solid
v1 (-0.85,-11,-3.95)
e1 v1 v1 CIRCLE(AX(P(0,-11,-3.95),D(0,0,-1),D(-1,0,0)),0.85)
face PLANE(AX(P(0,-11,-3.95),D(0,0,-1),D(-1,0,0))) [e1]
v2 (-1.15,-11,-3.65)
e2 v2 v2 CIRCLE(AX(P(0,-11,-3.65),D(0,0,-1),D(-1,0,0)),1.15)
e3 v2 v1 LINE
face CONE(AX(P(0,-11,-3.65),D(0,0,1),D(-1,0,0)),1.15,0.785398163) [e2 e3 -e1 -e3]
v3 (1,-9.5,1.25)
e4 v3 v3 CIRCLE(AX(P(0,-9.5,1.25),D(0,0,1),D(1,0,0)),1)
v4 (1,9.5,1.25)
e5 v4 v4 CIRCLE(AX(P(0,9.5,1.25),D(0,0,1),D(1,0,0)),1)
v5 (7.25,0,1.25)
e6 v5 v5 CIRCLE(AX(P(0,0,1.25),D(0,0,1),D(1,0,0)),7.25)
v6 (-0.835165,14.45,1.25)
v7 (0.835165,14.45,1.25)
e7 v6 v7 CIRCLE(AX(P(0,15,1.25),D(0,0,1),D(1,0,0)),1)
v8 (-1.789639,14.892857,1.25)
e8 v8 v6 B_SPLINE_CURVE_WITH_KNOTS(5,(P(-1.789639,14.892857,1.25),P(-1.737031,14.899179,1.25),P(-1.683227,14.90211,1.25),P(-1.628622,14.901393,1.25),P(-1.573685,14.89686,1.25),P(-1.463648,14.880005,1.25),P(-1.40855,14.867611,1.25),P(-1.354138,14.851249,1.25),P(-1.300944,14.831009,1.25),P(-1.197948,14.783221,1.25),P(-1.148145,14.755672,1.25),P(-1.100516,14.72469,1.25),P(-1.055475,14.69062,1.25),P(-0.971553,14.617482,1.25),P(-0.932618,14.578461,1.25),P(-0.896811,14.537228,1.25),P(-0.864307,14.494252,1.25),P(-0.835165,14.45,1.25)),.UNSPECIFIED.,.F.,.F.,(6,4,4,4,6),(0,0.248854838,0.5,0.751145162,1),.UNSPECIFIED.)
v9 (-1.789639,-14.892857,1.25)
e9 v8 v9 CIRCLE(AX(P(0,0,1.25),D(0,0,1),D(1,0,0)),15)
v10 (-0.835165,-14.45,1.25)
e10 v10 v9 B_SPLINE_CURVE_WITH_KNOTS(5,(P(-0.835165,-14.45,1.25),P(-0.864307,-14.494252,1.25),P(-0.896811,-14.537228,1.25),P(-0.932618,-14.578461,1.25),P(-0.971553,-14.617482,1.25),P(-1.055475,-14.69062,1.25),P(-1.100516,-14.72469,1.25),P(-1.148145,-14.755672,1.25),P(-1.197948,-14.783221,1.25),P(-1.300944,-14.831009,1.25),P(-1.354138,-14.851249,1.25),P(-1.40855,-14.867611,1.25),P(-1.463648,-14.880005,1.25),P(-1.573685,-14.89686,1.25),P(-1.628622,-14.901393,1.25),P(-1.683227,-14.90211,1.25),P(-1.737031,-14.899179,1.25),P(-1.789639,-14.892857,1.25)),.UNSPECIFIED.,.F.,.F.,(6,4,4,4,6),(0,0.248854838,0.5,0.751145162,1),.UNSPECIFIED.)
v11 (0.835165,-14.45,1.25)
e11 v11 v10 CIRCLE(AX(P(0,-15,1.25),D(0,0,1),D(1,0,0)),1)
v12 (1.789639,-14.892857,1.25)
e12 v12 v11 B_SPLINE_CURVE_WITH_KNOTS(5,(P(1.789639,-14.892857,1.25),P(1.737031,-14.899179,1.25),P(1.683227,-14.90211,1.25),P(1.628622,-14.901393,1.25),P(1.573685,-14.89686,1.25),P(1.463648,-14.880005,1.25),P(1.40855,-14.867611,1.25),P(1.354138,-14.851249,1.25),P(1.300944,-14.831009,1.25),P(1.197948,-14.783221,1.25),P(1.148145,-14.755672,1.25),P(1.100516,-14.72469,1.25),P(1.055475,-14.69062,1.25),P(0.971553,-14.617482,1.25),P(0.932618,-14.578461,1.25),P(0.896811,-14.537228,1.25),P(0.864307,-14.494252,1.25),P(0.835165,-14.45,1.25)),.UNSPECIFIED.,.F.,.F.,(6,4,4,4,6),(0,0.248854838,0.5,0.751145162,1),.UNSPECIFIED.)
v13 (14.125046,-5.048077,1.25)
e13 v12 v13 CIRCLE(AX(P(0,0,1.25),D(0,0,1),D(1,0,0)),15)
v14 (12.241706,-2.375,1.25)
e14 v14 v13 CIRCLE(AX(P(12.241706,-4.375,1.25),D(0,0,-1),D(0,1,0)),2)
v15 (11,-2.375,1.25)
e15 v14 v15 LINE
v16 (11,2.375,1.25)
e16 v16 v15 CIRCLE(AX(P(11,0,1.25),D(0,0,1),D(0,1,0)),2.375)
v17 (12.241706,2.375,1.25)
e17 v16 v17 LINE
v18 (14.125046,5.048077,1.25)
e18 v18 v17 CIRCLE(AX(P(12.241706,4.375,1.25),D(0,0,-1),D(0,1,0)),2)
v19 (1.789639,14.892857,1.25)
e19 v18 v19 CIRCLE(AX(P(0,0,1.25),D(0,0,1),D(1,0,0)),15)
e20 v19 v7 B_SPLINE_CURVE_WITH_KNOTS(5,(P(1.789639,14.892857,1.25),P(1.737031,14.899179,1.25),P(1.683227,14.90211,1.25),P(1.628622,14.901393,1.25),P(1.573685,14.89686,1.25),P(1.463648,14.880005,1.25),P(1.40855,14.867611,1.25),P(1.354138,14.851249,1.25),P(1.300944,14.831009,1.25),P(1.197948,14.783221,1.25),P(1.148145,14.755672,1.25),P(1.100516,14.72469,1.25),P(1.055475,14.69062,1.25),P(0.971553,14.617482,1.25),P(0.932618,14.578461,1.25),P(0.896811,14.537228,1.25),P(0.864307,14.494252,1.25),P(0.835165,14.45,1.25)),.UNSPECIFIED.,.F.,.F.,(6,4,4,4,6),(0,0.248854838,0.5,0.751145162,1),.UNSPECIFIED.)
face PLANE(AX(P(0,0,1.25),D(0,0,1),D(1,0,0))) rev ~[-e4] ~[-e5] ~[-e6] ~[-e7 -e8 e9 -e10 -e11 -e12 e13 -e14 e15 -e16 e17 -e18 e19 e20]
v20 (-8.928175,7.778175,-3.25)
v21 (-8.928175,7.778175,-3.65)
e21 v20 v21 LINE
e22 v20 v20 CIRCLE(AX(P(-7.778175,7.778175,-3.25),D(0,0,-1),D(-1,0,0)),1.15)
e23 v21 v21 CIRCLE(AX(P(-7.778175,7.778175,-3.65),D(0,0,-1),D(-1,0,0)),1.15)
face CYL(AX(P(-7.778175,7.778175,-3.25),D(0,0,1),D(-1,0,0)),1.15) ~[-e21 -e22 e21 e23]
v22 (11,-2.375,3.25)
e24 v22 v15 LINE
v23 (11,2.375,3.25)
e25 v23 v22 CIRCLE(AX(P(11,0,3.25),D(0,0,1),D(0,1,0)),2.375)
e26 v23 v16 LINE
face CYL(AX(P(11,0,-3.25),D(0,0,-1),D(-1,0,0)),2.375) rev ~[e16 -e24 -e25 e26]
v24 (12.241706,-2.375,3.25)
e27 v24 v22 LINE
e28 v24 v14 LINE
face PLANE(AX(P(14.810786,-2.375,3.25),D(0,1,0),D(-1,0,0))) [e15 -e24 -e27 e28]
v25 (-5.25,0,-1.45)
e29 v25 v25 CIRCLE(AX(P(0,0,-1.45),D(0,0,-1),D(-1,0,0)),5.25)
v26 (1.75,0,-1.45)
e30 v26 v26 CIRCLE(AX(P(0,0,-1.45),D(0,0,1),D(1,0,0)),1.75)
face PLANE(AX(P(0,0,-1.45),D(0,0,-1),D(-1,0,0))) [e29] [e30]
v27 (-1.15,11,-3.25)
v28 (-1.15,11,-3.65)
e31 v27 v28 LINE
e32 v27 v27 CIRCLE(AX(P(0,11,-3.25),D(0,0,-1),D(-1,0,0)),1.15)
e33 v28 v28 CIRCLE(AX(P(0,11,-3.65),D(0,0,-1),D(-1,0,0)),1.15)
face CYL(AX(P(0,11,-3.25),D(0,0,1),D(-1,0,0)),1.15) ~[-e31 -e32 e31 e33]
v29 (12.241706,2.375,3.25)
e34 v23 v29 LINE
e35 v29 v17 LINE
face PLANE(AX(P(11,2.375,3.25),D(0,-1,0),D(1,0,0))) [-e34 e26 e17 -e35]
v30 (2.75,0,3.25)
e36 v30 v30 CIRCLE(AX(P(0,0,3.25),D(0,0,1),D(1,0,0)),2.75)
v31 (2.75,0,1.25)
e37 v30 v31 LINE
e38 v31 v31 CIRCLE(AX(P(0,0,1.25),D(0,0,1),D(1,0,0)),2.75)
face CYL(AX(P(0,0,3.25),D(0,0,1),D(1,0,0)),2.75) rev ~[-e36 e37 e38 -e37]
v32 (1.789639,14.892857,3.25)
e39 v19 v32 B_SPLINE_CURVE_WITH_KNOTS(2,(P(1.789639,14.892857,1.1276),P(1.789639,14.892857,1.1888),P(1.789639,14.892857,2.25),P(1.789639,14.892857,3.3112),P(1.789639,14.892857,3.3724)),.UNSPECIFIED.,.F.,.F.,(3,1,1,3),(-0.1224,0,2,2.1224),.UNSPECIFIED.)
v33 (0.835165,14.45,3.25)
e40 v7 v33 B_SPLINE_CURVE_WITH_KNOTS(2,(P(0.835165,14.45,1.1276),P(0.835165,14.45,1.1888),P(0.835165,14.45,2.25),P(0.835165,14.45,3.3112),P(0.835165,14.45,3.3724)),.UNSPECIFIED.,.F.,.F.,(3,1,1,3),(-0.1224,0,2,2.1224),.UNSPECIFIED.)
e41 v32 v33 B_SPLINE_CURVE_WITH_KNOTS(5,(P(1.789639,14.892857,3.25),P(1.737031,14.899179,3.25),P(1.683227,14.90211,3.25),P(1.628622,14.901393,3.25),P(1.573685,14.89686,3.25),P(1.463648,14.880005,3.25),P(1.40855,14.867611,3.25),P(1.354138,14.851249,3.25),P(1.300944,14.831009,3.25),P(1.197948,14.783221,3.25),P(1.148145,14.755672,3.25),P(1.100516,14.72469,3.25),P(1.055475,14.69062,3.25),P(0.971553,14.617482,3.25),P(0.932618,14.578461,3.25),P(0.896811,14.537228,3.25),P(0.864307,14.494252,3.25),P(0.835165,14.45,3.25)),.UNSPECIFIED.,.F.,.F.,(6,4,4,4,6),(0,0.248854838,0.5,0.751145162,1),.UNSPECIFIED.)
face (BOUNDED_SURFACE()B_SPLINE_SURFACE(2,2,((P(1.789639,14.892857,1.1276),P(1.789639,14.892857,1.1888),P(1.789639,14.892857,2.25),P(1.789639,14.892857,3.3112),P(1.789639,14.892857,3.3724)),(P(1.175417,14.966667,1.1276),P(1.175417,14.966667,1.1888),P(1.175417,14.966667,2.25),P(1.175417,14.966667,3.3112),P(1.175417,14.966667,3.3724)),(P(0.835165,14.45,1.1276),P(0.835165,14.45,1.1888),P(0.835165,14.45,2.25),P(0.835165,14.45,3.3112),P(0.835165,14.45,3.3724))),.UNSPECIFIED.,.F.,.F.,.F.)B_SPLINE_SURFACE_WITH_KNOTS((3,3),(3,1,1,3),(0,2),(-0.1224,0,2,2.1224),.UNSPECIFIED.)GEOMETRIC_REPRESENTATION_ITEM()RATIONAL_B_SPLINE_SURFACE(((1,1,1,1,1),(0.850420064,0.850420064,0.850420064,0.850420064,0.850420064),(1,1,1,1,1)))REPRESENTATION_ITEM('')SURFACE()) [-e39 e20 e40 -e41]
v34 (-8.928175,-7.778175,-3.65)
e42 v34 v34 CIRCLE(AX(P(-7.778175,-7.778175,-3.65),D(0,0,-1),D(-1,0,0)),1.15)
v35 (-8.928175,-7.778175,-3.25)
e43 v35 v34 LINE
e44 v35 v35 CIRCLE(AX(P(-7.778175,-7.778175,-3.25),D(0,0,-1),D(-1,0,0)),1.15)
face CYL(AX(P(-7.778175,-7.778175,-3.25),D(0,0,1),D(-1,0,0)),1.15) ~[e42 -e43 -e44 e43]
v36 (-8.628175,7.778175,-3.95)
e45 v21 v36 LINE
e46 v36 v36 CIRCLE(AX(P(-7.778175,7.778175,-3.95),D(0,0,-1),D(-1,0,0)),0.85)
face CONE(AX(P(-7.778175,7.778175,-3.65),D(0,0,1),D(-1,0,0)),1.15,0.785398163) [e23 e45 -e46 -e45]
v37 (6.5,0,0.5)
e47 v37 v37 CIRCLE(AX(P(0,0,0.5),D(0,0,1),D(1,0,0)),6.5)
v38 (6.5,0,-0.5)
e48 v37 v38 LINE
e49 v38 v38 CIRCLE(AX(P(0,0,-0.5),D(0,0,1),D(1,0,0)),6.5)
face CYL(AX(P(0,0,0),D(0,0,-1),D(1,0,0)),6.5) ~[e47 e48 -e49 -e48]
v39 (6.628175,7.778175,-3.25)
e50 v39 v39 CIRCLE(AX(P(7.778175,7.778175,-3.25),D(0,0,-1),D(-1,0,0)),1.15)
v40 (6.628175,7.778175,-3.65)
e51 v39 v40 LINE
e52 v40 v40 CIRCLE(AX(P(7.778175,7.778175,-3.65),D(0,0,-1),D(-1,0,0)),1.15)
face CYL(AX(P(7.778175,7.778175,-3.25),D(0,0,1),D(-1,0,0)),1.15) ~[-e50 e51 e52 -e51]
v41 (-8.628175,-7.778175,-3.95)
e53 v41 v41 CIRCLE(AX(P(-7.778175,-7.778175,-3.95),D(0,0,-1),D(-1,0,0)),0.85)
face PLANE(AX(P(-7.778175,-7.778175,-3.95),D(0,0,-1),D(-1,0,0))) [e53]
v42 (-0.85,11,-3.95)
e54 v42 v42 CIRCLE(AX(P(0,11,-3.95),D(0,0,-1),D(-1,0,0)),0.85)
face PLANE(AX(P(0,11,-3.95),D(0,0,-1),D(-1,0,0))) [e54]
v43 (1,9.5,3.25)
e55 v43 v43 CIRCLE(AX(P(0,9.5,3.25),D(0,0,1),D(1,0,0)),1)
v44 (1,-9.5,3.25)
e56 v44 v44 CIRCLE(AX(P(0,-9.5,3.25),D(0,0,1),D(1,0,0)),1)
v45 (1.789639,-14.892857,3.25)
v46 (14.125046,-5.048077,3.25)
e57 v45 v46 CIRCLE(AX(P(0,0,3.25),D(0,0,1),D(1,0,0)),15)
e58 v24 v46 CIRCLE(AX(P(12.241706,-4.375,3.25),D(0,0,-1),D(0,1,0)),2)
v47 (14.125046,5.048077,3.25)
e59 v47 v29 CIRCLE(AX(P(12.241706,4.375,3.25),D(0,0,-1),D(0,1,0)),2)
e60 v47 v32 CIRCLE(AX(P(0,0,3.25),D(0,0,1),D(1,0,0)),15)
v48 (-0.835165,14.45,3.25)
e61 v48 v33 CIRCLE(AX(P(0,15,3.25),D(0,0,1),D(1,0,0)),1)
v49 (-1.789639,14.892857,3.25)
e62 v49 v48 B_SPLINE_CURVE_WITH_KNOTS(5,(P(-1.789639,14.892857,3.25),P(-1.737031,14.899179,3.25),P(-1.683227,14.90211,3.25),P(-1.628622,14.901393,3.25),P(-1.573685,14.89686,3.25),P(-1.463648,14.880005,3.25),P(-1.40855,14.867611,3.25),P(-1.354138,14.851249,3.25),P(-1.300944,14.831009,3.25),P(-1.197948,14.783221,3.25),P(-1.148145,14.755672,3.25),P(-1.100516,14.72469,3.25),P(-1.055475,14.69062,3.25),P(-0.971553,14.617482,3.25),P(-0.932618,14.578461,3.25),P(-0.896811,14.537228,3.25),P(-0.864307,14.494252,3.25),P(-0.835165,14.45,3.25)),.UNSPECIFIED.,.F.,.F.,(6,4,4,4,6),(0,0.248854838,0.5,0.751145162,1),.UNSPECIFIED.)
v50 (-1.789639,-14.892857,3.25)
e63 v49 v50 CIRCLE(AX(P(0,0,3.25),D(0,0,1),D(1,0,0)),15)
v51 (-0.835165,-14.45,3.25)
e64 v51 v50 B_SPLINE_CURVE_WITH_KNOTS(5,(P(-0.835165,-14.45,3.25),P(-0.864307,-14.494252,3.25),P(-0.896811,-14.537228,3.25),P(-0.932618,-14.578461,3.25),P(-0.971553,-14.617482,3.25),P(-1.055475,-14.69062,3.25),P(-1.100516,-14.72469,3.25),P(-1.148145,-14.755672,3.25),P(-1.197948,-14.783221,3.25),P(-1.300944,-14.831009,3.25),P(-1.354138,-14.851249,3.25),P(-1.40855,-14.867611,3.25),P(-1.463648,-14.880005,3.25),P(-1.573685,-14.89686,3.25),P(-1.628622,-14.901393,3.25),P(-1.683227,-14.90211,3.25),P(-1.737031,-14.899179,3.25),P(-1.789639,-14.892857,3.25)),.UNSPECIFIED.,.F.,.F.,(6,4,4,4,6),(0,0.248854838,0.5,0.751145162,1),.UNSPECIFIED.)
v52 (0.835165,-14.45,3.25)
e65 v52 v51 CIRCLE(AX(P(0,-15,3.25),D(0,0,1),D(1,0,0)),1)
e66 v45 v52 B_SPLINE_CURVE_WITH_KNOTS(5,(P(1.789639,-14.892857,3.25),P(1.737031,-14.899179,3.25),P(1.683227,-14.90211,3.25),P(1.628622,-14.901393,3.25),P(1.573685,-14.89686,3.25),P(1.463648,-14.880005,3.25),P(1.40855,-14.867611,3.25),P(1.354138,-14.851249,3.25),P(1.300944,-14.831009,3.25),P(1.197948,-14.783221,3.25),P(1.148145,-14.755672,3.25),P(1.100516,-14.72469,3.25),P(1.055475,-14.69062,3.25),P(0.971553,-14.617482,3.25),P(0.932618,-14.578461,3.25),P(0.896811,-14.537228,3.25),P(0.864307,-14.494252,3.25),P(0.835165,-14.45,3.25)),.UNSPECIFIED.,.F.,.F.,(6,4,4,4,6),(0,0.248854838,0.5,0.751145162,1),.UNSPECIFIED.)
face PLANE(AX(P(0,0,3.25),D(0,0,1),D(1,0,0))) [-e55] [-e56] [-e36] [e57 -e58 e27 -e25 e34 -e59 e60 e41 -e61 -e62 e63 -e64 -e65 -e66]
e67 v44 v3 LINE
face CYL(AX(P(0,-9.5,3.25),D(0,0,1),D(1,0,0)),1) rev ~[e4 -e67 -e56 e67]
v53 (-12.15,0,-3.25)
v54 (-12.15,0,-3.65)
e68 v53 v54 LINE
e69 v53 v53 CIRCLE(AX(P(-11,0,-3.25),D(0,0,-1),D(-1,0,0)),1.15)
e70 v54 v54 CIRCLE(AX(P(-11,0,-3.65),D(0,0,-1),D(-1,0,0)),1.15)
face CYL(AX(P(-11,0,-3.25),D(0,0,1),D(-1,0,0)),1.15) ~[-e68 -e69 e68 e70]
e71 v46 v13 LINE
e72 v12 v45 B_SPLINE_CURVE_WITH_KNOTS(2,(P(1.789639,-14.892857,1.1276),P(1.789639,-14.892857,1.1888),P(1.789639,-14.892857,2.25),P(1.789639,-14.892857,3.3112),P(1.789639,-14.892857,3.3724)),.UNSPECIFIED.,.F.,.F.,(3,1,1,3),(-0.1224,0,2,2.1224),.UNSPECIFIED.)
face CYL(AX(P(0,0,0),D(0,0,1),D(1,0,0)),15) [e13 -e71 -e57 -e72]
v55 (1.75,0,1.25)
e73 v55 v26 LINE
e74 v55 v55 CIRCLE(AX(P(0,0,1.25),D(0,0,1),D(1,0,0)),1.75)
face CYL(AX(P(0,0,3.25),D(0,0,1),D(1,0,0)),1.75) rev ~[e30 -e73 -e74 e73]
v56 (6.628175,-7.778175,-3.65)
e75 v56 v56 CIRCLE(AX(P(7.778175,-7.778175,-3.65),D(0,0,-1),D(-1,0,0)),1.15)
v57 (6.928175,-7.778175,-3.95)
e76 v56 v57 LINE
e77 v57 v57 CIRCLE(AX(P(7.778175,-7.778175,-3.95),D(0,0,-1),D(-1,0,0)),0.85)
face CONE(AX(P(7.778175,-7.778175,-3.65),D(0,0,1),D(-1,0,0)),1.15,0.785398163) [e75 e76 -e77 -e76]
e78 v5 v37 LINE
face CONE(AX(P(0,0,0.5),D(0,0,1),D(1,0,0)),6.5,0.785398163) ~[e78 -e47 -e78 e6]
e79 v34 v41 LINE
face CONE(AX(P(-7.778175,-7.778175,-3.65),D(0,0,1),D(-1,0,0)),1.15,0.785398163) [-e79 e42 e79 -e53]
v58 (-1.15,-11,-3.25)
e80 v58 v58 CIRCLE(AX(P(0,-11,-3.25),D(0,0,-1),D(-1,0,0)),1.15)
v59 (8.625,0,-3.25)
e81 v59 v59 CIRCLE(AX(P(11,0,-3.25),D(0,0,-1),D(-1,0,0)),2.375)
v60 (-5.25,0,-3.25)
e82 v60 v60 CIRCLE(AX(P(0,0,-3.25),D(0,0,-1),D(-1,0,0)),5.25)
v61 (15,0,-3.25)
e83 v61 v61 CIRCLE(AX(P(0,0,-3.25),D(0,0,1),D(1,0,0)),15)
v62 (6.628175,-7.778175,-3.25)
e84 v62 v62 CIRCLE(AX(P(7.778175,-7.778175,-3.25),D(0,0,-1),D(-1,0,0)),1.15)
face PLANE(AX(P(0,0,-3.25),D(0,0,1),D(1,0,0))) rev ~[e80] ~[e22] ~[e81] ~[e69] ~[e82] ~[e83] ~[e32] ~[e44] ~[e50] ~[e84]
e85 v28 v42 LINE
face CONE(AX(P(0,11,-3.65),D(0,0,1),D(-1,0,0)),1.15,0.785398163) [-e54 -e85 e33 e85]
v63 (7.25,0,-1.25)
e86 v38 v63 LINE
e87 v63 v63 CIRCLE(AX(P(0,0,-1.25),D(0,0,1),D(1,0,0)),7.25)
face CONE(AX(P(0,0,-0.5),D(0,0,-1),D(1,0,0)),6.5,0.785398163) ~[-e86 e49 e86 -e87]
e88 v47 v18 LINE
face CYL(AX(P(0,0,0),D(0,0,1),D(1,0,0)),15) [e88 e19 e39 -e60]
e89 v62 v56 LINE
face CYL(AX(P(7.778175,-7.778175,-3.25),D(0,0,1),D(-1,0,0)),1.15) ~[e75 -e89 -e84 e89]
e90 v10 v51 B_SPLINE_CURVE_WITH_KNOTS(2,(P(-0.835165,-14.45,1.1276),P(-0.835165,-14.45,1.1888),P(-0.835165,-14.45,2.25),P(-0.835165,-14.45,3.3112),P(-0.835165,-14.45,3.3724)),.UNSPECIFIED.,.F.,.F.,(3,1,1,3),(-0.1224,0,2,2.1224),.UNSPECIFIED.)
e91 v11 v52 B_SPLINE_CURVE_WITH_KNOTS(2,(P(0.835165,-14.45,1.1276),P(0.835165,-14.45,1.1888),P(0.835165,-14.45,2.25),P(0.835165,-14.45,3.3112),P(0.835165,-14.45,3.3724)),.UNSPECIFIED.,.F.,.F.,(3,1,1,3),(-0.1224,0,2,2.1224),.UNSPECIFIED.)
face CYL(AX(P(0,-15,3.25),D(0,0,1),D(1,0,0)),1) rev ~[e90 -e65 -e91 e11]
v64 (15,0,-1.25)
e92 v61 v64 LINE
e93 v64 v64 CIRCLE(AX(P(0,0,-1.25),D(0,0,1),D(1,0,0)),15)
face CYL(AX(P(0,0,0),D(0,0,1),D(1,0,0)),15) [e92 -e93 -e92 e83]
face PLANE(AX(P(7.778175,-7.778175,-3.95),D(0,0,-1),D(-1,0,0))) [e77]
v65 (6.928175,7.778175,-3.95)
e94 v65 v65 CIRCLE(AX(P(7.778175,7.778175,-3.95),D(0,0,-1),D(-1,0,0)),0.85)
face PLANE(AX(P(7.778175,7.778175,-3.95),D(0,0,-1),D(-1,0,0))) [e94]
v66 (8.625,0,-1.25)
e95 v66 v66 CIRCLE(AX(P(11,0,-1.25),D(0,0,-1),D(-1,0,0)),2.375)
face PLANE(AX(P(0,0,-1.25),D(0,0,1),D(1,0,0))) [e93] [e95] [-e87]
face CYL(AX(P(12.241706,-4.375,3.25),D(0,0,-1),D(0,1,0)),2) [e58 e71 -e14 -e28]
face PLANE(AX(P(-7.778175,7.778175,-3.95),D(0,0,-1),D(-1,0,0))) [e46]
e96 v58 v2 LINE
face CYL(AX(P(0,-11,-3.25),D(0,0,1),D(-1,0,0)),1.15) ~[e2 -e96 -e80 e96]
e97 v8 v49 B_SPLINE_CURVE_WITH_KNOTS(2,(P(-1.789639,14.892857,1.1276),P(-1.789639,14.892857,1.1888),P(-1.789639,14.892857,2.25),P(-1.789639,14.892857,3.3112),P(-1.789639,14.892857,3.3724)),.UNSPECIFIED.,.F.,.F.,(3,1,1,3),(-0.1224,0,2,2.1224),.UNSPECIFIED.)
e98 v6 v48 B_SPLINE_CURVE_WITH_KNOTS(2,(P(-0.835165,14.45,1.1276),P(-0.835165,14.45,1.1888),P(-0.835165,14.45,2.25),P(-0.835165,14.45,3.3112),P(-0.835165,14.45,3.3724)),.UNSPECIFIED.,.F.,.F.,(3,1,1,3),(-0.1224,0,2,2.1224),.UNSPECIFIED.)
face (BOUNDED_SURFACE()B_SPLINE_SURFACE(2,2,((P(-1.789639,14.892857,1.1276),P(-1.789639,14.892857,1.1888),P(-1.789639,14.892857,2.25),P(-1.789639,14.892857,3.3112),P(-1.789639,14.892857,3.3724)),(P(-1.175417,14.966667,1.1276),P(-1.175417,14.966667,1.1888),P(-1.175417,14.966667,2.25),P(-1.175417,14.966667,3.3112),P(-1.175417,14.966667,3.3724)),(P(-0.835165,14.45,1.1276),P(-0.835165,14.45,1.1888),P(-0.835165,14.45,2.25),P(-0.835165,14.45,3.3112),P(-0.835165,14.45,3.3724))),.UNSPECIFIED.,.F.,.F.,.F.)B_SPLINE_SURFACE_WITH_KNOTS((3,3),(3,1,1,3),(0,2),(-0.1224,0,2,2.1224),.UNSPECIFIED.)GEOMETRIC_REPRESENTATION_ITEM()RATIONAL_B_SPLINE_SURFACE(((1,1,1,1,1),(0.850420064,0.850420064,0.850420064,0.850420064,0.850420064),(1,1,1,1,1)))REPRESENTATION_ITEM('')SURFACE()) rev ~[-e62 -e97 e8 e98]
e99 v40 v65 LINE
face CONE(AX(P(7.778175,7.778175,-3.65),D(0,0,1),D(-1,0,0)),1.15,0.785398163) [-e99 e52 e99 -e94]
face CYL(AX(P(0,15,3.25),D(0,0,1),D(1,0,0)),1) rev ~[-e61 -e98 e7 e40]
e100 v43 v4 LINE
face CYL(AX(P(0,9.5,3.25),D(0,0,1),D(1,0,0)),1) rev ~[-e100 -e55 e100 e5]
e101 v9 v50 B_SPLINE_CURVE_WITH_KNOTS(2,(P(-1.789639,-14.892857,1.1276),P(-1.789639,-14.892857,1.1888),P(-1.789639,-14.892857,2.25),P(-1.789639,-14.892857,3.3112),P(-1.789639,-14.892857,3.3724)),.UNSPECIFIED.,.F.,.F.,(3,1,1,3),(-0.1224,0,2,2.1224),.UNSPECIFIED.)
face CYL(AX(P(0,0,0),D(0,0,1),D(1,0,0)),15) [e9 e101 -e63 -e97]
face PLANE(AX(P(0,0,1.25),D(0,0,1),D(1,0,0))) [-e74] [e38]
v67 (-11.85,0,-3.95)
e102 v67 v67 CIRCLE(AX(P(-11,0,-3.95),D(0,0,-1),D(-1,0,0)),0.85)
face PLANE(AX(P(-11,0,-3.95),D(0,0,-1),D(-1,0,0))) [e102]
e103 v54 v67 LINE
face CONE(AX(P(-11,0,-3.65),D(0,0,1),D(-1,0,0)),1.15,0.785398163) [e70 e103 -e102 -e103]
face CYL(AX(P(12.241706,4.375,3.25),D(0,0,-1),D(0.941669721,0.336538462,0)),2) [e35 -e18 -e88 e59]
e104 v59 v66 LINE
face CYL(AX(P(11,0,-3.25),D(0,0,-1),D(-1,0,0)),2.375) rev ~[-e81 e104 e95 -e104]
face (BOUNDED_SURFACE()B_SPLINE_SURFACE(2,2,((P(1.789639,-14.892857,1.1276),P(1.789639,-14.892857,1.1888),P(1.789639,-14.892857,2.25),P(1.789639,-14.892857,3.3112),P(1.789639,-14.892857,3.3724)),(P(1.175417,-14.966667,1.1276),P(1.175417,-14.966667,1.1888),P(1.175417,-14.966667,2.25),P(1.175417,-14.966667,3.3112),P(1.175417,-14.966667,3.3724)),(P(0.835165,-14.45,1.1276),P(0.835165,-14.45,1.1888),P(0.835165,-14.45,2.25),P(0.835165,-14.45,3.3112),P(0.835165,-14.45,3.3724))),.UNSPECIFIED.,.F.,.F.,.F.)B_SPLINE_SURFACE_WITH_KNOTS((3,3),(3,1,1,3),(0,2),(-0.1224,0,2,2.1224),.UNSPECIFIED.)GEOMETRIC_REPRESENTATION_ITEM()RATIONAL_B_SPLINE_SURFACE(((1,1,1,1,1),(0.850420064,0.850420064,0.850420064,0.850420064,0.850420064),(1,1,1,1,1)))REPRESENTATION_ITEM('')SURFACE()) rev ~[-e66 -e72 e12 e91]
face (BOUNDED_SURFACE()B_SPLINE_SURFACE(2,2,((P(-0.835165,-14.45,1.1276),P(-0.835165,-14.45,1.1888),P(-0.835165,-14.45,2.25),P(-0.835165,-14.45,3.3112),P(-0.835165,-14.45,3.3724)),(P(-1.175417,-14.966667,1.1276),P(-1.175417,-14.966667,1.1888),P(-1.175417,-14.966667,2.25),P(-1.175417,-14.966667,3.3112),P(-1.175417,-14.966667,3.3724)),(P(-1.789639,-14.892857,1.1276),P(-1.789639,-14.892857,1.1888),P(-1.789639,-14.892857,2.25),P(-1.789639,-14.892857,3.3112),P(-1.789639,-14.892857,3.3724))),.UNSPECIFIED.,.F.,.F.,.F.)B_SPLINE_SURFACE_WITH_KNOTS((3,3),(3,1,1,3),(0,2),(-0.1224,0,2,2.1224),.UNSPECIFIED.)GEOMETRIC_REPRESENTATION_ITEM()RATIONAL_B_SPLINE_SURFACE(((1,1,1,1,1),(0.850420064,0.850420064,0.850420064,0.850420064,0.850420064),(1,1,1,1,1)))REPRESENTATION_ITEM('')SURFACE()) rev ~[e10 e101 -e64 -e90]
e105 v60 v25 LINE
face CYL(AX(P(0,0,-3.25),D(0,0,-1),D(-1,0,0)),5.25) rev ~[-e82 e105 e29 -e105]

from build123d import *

# Parameters (mm, degrees)
SKETCH1_R                       = 15
BODY_DEPTH                      = 3.25
SKETCH2_R                       = 15
SKETCH2_R_2                     = 6.5
PULLEY_CLEARANCE_DEPTH          = 1.25
SKETCH3_R                       = 1.75
MAIN_BOLT_THROUGH_HOLE_DEPTH    = 7.5
SKETCH4_R                       = 5.25
SERVO_HORN_CLEARANCE_DEPTH      = 1.8
SKETCH5_R                       = 2.75
MAIN_BOLT_CLEARANCE_DEPTH       = 2
SKETCH6_R                       = 2.375
HORN_ATTACHMENT_HOLES_DEPTH     = 7.5
HORN_ATTACHMENT_CLEARANCE_DEPTH = 2
SKETCH8_R                       = 1
TENDON_ANCHOR_DEPTH             = 2
CONTOURING_BOLT_R               = 2
INNER_CHAMFER_SIZE              = 0.75
CONTOURING_TENDON_R             = 1
SKETCH9_R                       = 1.15
LOCKING_NUBS_DEPTH              = 0.7
NUB_CHAMFERS_SIZE               = 0.3


with BuildPart() as part:
    # Sketch1 → Body (new body, symmetric)
    with BuildSketch(Plane.XY):
        Circle(SKETCH1_R)
    extrude(amount=BODY_DEPTH, both=True)

    # Sketch2 → Pulley Clearance (cut, symmetric)
    with BuildSketch(Plane.XY):
        Circle(SKETCH2_R)
        Circle(SKETCH2_R_2, mode=Mode.SUBTRACT)
    extrude(amount=PULLEY_CLEARANCE_DEPTH, both=True, mode=Mode.SUBTRACT)

    # Sketch3 → Main Bolt Through Hole (cut, through all)
    with BuildSketch(Plane.XY.offset(3.25)):
        Circle(SKETCH3_R)
    extrude(amount=-MAIN_BOLT_THROUGH_HOLE_DEPTH, mode=Mode.SUBTRACT)

    # Sketch4 → Servo Horn Clearance (cut)
    with BuildSketch(Plane(origin=(0, 0, -3.25), x_dir=(-1, 0, 0), z_dir=(0, 0, -1))):
        Circle(SKETCH4_R)
    extrude(amount=-SERVO_HORN_CLEARANCE_DEPTH, mode=Mode.SUBTRACT)

    # Sketch5 → Main Bolt Clearance (cut)
    with BuildSketch(Plane.XY.offset(3.25)):
        Circle(SKETCH5_R)
    extrude(amount=-MAIN_BOLT_CLEARANCE_DEPTH, mode=Mode.SUBTRACT)

    # Sketch6 → Horn Attachment Holes (cut, through all)
    with BuildSketch(Plane(origin=(0, 0, -3.25), x_dir=(-1, 0, 0), z_dir=(0, 0, -1))):
        with Locations((-11, 0)):
            Circle(SKETCH6_R)
    extrude(amount=-HORN_ATTACHMENT_HOLES_DEPTH, mode=Mode.SUBTRACT)

    # Sketch7 → Horn Attachment Clearance (cut)
    with BuildSketch(Plane.XY.offset(3.25)):
        with BuildLine():
            Line((11, -2.375), (11, 2.375))
            Line((11, 2.375), (14.810785766, 2.375))
            ThreePointArc((14.810785766, 2.375), (15, 0), (14.810785766, -2.375))
            Line((14.810785766, -2.375), (11, -2.375))
        make_face()
    extrude(amount=-HORN_ATTACHMENT_CLEARANCE_DEPTH, mode=Mode.SUBTRACT)

    # Sketch8 → Tendon Anchor (cut)
    with BuildSketch(Plane.XY.offset(3.25)):
        with Locations((0, 9.5)):
            Circle(SKETCH8_R)
        with Locations((0, 15)):
            Circle(SKETCH8_R)
        with Locations((0, -15)):
            Circle(SKETCH8_R)
        with Locations((0, -9.5)):
            Circle(SKETCH8_R)
    extrude(amount=-TENDON_ANCHOR_DEPTH, mode=Mode.SUBTRACT)

    # Contouring - Bolt
    contouring_bolt_edges = [part.edges().sort_by_distance(p)[0] for p in [
        (14.810785766, -2.375, 2.25),
        (14.810785766, 2.375, 2.25),
    ]]
    fillet(contouring_bolt_edges, radius=CONTOURING_BOLT_R)

    # Inner Chamfer
    inner_chamfer_edges = [part.edges().sort_by_distance(p)[0] for p in [
        (-6.5, 0, -1.25),
        (-6.5, 0, 1.25),
    ]]
    chamfer(inner_chamfer_edges, length=INNER_CHAMFER_SIZE)

    # Contouring - Tendon
    contouring_tendon_edges = [part.edges().sort_by_distance(p)[0] for p in [
        (-0.99944429, 14.966666667, 2.25),
        (0.99944429, 14.966666667, 2.25),
        (0.99944429, -14.966666667, 2.25),
        (-0.99944429, -14.966666667, 2.25),
    ]]
    fillet(contouring_tendon_edges, radius=CONTOURING_TENDON_R)

    # Sketch9 → Locking Nubs (add)
    with BuildSketch(Plane(origin=(0, 0, -3.25), x_dir=(-1, 0, 0), z_dir=(0, 0, -1))):
        with Locations((11, 0)):
            Circle(SKETCH9_R)
        with Locations((7.778174593, -7.778174593)):
            Circle(SKETCH9_R)
        with Locations((0, -11)):
            Circle(SKETCH9_R)
        with Locations((-7.778174593, -7.778174593)):
            Circle(SKETCH9_R)
        with Locations((-7.778174593, 7.778174593)):
            Circle(SKETCH9_R)
        with Locations((0, 11)):
            Circle(SKETCH9_R)
        with Locations((7.778174593, 7.778174593)):
            Circle(SKETCH9_R)
    extrude(amount=LOCKING_NUBS_DEPTH)

    # Nub Chamfers
    nub_chamfers_edges = [part.edges().sort_by_distance(p)[0] for p in [
        (-9.85, 0, -3.95),
        (-6.628174593, -7.778174593, -3.95),
        (1.15, -11, -3.95),
        (8.928174593, -7.778174593, -3.95),
        (8.928174593, 7.778174593, -3.95),
        (1.15, 11, -3.95),
        (-6.628174593, 7.778174593, -3.95),
    ]]
    chamfer(nub_chamfers_edges, length=NUB_CHAMFERS_SIZE)


solid = part.part
